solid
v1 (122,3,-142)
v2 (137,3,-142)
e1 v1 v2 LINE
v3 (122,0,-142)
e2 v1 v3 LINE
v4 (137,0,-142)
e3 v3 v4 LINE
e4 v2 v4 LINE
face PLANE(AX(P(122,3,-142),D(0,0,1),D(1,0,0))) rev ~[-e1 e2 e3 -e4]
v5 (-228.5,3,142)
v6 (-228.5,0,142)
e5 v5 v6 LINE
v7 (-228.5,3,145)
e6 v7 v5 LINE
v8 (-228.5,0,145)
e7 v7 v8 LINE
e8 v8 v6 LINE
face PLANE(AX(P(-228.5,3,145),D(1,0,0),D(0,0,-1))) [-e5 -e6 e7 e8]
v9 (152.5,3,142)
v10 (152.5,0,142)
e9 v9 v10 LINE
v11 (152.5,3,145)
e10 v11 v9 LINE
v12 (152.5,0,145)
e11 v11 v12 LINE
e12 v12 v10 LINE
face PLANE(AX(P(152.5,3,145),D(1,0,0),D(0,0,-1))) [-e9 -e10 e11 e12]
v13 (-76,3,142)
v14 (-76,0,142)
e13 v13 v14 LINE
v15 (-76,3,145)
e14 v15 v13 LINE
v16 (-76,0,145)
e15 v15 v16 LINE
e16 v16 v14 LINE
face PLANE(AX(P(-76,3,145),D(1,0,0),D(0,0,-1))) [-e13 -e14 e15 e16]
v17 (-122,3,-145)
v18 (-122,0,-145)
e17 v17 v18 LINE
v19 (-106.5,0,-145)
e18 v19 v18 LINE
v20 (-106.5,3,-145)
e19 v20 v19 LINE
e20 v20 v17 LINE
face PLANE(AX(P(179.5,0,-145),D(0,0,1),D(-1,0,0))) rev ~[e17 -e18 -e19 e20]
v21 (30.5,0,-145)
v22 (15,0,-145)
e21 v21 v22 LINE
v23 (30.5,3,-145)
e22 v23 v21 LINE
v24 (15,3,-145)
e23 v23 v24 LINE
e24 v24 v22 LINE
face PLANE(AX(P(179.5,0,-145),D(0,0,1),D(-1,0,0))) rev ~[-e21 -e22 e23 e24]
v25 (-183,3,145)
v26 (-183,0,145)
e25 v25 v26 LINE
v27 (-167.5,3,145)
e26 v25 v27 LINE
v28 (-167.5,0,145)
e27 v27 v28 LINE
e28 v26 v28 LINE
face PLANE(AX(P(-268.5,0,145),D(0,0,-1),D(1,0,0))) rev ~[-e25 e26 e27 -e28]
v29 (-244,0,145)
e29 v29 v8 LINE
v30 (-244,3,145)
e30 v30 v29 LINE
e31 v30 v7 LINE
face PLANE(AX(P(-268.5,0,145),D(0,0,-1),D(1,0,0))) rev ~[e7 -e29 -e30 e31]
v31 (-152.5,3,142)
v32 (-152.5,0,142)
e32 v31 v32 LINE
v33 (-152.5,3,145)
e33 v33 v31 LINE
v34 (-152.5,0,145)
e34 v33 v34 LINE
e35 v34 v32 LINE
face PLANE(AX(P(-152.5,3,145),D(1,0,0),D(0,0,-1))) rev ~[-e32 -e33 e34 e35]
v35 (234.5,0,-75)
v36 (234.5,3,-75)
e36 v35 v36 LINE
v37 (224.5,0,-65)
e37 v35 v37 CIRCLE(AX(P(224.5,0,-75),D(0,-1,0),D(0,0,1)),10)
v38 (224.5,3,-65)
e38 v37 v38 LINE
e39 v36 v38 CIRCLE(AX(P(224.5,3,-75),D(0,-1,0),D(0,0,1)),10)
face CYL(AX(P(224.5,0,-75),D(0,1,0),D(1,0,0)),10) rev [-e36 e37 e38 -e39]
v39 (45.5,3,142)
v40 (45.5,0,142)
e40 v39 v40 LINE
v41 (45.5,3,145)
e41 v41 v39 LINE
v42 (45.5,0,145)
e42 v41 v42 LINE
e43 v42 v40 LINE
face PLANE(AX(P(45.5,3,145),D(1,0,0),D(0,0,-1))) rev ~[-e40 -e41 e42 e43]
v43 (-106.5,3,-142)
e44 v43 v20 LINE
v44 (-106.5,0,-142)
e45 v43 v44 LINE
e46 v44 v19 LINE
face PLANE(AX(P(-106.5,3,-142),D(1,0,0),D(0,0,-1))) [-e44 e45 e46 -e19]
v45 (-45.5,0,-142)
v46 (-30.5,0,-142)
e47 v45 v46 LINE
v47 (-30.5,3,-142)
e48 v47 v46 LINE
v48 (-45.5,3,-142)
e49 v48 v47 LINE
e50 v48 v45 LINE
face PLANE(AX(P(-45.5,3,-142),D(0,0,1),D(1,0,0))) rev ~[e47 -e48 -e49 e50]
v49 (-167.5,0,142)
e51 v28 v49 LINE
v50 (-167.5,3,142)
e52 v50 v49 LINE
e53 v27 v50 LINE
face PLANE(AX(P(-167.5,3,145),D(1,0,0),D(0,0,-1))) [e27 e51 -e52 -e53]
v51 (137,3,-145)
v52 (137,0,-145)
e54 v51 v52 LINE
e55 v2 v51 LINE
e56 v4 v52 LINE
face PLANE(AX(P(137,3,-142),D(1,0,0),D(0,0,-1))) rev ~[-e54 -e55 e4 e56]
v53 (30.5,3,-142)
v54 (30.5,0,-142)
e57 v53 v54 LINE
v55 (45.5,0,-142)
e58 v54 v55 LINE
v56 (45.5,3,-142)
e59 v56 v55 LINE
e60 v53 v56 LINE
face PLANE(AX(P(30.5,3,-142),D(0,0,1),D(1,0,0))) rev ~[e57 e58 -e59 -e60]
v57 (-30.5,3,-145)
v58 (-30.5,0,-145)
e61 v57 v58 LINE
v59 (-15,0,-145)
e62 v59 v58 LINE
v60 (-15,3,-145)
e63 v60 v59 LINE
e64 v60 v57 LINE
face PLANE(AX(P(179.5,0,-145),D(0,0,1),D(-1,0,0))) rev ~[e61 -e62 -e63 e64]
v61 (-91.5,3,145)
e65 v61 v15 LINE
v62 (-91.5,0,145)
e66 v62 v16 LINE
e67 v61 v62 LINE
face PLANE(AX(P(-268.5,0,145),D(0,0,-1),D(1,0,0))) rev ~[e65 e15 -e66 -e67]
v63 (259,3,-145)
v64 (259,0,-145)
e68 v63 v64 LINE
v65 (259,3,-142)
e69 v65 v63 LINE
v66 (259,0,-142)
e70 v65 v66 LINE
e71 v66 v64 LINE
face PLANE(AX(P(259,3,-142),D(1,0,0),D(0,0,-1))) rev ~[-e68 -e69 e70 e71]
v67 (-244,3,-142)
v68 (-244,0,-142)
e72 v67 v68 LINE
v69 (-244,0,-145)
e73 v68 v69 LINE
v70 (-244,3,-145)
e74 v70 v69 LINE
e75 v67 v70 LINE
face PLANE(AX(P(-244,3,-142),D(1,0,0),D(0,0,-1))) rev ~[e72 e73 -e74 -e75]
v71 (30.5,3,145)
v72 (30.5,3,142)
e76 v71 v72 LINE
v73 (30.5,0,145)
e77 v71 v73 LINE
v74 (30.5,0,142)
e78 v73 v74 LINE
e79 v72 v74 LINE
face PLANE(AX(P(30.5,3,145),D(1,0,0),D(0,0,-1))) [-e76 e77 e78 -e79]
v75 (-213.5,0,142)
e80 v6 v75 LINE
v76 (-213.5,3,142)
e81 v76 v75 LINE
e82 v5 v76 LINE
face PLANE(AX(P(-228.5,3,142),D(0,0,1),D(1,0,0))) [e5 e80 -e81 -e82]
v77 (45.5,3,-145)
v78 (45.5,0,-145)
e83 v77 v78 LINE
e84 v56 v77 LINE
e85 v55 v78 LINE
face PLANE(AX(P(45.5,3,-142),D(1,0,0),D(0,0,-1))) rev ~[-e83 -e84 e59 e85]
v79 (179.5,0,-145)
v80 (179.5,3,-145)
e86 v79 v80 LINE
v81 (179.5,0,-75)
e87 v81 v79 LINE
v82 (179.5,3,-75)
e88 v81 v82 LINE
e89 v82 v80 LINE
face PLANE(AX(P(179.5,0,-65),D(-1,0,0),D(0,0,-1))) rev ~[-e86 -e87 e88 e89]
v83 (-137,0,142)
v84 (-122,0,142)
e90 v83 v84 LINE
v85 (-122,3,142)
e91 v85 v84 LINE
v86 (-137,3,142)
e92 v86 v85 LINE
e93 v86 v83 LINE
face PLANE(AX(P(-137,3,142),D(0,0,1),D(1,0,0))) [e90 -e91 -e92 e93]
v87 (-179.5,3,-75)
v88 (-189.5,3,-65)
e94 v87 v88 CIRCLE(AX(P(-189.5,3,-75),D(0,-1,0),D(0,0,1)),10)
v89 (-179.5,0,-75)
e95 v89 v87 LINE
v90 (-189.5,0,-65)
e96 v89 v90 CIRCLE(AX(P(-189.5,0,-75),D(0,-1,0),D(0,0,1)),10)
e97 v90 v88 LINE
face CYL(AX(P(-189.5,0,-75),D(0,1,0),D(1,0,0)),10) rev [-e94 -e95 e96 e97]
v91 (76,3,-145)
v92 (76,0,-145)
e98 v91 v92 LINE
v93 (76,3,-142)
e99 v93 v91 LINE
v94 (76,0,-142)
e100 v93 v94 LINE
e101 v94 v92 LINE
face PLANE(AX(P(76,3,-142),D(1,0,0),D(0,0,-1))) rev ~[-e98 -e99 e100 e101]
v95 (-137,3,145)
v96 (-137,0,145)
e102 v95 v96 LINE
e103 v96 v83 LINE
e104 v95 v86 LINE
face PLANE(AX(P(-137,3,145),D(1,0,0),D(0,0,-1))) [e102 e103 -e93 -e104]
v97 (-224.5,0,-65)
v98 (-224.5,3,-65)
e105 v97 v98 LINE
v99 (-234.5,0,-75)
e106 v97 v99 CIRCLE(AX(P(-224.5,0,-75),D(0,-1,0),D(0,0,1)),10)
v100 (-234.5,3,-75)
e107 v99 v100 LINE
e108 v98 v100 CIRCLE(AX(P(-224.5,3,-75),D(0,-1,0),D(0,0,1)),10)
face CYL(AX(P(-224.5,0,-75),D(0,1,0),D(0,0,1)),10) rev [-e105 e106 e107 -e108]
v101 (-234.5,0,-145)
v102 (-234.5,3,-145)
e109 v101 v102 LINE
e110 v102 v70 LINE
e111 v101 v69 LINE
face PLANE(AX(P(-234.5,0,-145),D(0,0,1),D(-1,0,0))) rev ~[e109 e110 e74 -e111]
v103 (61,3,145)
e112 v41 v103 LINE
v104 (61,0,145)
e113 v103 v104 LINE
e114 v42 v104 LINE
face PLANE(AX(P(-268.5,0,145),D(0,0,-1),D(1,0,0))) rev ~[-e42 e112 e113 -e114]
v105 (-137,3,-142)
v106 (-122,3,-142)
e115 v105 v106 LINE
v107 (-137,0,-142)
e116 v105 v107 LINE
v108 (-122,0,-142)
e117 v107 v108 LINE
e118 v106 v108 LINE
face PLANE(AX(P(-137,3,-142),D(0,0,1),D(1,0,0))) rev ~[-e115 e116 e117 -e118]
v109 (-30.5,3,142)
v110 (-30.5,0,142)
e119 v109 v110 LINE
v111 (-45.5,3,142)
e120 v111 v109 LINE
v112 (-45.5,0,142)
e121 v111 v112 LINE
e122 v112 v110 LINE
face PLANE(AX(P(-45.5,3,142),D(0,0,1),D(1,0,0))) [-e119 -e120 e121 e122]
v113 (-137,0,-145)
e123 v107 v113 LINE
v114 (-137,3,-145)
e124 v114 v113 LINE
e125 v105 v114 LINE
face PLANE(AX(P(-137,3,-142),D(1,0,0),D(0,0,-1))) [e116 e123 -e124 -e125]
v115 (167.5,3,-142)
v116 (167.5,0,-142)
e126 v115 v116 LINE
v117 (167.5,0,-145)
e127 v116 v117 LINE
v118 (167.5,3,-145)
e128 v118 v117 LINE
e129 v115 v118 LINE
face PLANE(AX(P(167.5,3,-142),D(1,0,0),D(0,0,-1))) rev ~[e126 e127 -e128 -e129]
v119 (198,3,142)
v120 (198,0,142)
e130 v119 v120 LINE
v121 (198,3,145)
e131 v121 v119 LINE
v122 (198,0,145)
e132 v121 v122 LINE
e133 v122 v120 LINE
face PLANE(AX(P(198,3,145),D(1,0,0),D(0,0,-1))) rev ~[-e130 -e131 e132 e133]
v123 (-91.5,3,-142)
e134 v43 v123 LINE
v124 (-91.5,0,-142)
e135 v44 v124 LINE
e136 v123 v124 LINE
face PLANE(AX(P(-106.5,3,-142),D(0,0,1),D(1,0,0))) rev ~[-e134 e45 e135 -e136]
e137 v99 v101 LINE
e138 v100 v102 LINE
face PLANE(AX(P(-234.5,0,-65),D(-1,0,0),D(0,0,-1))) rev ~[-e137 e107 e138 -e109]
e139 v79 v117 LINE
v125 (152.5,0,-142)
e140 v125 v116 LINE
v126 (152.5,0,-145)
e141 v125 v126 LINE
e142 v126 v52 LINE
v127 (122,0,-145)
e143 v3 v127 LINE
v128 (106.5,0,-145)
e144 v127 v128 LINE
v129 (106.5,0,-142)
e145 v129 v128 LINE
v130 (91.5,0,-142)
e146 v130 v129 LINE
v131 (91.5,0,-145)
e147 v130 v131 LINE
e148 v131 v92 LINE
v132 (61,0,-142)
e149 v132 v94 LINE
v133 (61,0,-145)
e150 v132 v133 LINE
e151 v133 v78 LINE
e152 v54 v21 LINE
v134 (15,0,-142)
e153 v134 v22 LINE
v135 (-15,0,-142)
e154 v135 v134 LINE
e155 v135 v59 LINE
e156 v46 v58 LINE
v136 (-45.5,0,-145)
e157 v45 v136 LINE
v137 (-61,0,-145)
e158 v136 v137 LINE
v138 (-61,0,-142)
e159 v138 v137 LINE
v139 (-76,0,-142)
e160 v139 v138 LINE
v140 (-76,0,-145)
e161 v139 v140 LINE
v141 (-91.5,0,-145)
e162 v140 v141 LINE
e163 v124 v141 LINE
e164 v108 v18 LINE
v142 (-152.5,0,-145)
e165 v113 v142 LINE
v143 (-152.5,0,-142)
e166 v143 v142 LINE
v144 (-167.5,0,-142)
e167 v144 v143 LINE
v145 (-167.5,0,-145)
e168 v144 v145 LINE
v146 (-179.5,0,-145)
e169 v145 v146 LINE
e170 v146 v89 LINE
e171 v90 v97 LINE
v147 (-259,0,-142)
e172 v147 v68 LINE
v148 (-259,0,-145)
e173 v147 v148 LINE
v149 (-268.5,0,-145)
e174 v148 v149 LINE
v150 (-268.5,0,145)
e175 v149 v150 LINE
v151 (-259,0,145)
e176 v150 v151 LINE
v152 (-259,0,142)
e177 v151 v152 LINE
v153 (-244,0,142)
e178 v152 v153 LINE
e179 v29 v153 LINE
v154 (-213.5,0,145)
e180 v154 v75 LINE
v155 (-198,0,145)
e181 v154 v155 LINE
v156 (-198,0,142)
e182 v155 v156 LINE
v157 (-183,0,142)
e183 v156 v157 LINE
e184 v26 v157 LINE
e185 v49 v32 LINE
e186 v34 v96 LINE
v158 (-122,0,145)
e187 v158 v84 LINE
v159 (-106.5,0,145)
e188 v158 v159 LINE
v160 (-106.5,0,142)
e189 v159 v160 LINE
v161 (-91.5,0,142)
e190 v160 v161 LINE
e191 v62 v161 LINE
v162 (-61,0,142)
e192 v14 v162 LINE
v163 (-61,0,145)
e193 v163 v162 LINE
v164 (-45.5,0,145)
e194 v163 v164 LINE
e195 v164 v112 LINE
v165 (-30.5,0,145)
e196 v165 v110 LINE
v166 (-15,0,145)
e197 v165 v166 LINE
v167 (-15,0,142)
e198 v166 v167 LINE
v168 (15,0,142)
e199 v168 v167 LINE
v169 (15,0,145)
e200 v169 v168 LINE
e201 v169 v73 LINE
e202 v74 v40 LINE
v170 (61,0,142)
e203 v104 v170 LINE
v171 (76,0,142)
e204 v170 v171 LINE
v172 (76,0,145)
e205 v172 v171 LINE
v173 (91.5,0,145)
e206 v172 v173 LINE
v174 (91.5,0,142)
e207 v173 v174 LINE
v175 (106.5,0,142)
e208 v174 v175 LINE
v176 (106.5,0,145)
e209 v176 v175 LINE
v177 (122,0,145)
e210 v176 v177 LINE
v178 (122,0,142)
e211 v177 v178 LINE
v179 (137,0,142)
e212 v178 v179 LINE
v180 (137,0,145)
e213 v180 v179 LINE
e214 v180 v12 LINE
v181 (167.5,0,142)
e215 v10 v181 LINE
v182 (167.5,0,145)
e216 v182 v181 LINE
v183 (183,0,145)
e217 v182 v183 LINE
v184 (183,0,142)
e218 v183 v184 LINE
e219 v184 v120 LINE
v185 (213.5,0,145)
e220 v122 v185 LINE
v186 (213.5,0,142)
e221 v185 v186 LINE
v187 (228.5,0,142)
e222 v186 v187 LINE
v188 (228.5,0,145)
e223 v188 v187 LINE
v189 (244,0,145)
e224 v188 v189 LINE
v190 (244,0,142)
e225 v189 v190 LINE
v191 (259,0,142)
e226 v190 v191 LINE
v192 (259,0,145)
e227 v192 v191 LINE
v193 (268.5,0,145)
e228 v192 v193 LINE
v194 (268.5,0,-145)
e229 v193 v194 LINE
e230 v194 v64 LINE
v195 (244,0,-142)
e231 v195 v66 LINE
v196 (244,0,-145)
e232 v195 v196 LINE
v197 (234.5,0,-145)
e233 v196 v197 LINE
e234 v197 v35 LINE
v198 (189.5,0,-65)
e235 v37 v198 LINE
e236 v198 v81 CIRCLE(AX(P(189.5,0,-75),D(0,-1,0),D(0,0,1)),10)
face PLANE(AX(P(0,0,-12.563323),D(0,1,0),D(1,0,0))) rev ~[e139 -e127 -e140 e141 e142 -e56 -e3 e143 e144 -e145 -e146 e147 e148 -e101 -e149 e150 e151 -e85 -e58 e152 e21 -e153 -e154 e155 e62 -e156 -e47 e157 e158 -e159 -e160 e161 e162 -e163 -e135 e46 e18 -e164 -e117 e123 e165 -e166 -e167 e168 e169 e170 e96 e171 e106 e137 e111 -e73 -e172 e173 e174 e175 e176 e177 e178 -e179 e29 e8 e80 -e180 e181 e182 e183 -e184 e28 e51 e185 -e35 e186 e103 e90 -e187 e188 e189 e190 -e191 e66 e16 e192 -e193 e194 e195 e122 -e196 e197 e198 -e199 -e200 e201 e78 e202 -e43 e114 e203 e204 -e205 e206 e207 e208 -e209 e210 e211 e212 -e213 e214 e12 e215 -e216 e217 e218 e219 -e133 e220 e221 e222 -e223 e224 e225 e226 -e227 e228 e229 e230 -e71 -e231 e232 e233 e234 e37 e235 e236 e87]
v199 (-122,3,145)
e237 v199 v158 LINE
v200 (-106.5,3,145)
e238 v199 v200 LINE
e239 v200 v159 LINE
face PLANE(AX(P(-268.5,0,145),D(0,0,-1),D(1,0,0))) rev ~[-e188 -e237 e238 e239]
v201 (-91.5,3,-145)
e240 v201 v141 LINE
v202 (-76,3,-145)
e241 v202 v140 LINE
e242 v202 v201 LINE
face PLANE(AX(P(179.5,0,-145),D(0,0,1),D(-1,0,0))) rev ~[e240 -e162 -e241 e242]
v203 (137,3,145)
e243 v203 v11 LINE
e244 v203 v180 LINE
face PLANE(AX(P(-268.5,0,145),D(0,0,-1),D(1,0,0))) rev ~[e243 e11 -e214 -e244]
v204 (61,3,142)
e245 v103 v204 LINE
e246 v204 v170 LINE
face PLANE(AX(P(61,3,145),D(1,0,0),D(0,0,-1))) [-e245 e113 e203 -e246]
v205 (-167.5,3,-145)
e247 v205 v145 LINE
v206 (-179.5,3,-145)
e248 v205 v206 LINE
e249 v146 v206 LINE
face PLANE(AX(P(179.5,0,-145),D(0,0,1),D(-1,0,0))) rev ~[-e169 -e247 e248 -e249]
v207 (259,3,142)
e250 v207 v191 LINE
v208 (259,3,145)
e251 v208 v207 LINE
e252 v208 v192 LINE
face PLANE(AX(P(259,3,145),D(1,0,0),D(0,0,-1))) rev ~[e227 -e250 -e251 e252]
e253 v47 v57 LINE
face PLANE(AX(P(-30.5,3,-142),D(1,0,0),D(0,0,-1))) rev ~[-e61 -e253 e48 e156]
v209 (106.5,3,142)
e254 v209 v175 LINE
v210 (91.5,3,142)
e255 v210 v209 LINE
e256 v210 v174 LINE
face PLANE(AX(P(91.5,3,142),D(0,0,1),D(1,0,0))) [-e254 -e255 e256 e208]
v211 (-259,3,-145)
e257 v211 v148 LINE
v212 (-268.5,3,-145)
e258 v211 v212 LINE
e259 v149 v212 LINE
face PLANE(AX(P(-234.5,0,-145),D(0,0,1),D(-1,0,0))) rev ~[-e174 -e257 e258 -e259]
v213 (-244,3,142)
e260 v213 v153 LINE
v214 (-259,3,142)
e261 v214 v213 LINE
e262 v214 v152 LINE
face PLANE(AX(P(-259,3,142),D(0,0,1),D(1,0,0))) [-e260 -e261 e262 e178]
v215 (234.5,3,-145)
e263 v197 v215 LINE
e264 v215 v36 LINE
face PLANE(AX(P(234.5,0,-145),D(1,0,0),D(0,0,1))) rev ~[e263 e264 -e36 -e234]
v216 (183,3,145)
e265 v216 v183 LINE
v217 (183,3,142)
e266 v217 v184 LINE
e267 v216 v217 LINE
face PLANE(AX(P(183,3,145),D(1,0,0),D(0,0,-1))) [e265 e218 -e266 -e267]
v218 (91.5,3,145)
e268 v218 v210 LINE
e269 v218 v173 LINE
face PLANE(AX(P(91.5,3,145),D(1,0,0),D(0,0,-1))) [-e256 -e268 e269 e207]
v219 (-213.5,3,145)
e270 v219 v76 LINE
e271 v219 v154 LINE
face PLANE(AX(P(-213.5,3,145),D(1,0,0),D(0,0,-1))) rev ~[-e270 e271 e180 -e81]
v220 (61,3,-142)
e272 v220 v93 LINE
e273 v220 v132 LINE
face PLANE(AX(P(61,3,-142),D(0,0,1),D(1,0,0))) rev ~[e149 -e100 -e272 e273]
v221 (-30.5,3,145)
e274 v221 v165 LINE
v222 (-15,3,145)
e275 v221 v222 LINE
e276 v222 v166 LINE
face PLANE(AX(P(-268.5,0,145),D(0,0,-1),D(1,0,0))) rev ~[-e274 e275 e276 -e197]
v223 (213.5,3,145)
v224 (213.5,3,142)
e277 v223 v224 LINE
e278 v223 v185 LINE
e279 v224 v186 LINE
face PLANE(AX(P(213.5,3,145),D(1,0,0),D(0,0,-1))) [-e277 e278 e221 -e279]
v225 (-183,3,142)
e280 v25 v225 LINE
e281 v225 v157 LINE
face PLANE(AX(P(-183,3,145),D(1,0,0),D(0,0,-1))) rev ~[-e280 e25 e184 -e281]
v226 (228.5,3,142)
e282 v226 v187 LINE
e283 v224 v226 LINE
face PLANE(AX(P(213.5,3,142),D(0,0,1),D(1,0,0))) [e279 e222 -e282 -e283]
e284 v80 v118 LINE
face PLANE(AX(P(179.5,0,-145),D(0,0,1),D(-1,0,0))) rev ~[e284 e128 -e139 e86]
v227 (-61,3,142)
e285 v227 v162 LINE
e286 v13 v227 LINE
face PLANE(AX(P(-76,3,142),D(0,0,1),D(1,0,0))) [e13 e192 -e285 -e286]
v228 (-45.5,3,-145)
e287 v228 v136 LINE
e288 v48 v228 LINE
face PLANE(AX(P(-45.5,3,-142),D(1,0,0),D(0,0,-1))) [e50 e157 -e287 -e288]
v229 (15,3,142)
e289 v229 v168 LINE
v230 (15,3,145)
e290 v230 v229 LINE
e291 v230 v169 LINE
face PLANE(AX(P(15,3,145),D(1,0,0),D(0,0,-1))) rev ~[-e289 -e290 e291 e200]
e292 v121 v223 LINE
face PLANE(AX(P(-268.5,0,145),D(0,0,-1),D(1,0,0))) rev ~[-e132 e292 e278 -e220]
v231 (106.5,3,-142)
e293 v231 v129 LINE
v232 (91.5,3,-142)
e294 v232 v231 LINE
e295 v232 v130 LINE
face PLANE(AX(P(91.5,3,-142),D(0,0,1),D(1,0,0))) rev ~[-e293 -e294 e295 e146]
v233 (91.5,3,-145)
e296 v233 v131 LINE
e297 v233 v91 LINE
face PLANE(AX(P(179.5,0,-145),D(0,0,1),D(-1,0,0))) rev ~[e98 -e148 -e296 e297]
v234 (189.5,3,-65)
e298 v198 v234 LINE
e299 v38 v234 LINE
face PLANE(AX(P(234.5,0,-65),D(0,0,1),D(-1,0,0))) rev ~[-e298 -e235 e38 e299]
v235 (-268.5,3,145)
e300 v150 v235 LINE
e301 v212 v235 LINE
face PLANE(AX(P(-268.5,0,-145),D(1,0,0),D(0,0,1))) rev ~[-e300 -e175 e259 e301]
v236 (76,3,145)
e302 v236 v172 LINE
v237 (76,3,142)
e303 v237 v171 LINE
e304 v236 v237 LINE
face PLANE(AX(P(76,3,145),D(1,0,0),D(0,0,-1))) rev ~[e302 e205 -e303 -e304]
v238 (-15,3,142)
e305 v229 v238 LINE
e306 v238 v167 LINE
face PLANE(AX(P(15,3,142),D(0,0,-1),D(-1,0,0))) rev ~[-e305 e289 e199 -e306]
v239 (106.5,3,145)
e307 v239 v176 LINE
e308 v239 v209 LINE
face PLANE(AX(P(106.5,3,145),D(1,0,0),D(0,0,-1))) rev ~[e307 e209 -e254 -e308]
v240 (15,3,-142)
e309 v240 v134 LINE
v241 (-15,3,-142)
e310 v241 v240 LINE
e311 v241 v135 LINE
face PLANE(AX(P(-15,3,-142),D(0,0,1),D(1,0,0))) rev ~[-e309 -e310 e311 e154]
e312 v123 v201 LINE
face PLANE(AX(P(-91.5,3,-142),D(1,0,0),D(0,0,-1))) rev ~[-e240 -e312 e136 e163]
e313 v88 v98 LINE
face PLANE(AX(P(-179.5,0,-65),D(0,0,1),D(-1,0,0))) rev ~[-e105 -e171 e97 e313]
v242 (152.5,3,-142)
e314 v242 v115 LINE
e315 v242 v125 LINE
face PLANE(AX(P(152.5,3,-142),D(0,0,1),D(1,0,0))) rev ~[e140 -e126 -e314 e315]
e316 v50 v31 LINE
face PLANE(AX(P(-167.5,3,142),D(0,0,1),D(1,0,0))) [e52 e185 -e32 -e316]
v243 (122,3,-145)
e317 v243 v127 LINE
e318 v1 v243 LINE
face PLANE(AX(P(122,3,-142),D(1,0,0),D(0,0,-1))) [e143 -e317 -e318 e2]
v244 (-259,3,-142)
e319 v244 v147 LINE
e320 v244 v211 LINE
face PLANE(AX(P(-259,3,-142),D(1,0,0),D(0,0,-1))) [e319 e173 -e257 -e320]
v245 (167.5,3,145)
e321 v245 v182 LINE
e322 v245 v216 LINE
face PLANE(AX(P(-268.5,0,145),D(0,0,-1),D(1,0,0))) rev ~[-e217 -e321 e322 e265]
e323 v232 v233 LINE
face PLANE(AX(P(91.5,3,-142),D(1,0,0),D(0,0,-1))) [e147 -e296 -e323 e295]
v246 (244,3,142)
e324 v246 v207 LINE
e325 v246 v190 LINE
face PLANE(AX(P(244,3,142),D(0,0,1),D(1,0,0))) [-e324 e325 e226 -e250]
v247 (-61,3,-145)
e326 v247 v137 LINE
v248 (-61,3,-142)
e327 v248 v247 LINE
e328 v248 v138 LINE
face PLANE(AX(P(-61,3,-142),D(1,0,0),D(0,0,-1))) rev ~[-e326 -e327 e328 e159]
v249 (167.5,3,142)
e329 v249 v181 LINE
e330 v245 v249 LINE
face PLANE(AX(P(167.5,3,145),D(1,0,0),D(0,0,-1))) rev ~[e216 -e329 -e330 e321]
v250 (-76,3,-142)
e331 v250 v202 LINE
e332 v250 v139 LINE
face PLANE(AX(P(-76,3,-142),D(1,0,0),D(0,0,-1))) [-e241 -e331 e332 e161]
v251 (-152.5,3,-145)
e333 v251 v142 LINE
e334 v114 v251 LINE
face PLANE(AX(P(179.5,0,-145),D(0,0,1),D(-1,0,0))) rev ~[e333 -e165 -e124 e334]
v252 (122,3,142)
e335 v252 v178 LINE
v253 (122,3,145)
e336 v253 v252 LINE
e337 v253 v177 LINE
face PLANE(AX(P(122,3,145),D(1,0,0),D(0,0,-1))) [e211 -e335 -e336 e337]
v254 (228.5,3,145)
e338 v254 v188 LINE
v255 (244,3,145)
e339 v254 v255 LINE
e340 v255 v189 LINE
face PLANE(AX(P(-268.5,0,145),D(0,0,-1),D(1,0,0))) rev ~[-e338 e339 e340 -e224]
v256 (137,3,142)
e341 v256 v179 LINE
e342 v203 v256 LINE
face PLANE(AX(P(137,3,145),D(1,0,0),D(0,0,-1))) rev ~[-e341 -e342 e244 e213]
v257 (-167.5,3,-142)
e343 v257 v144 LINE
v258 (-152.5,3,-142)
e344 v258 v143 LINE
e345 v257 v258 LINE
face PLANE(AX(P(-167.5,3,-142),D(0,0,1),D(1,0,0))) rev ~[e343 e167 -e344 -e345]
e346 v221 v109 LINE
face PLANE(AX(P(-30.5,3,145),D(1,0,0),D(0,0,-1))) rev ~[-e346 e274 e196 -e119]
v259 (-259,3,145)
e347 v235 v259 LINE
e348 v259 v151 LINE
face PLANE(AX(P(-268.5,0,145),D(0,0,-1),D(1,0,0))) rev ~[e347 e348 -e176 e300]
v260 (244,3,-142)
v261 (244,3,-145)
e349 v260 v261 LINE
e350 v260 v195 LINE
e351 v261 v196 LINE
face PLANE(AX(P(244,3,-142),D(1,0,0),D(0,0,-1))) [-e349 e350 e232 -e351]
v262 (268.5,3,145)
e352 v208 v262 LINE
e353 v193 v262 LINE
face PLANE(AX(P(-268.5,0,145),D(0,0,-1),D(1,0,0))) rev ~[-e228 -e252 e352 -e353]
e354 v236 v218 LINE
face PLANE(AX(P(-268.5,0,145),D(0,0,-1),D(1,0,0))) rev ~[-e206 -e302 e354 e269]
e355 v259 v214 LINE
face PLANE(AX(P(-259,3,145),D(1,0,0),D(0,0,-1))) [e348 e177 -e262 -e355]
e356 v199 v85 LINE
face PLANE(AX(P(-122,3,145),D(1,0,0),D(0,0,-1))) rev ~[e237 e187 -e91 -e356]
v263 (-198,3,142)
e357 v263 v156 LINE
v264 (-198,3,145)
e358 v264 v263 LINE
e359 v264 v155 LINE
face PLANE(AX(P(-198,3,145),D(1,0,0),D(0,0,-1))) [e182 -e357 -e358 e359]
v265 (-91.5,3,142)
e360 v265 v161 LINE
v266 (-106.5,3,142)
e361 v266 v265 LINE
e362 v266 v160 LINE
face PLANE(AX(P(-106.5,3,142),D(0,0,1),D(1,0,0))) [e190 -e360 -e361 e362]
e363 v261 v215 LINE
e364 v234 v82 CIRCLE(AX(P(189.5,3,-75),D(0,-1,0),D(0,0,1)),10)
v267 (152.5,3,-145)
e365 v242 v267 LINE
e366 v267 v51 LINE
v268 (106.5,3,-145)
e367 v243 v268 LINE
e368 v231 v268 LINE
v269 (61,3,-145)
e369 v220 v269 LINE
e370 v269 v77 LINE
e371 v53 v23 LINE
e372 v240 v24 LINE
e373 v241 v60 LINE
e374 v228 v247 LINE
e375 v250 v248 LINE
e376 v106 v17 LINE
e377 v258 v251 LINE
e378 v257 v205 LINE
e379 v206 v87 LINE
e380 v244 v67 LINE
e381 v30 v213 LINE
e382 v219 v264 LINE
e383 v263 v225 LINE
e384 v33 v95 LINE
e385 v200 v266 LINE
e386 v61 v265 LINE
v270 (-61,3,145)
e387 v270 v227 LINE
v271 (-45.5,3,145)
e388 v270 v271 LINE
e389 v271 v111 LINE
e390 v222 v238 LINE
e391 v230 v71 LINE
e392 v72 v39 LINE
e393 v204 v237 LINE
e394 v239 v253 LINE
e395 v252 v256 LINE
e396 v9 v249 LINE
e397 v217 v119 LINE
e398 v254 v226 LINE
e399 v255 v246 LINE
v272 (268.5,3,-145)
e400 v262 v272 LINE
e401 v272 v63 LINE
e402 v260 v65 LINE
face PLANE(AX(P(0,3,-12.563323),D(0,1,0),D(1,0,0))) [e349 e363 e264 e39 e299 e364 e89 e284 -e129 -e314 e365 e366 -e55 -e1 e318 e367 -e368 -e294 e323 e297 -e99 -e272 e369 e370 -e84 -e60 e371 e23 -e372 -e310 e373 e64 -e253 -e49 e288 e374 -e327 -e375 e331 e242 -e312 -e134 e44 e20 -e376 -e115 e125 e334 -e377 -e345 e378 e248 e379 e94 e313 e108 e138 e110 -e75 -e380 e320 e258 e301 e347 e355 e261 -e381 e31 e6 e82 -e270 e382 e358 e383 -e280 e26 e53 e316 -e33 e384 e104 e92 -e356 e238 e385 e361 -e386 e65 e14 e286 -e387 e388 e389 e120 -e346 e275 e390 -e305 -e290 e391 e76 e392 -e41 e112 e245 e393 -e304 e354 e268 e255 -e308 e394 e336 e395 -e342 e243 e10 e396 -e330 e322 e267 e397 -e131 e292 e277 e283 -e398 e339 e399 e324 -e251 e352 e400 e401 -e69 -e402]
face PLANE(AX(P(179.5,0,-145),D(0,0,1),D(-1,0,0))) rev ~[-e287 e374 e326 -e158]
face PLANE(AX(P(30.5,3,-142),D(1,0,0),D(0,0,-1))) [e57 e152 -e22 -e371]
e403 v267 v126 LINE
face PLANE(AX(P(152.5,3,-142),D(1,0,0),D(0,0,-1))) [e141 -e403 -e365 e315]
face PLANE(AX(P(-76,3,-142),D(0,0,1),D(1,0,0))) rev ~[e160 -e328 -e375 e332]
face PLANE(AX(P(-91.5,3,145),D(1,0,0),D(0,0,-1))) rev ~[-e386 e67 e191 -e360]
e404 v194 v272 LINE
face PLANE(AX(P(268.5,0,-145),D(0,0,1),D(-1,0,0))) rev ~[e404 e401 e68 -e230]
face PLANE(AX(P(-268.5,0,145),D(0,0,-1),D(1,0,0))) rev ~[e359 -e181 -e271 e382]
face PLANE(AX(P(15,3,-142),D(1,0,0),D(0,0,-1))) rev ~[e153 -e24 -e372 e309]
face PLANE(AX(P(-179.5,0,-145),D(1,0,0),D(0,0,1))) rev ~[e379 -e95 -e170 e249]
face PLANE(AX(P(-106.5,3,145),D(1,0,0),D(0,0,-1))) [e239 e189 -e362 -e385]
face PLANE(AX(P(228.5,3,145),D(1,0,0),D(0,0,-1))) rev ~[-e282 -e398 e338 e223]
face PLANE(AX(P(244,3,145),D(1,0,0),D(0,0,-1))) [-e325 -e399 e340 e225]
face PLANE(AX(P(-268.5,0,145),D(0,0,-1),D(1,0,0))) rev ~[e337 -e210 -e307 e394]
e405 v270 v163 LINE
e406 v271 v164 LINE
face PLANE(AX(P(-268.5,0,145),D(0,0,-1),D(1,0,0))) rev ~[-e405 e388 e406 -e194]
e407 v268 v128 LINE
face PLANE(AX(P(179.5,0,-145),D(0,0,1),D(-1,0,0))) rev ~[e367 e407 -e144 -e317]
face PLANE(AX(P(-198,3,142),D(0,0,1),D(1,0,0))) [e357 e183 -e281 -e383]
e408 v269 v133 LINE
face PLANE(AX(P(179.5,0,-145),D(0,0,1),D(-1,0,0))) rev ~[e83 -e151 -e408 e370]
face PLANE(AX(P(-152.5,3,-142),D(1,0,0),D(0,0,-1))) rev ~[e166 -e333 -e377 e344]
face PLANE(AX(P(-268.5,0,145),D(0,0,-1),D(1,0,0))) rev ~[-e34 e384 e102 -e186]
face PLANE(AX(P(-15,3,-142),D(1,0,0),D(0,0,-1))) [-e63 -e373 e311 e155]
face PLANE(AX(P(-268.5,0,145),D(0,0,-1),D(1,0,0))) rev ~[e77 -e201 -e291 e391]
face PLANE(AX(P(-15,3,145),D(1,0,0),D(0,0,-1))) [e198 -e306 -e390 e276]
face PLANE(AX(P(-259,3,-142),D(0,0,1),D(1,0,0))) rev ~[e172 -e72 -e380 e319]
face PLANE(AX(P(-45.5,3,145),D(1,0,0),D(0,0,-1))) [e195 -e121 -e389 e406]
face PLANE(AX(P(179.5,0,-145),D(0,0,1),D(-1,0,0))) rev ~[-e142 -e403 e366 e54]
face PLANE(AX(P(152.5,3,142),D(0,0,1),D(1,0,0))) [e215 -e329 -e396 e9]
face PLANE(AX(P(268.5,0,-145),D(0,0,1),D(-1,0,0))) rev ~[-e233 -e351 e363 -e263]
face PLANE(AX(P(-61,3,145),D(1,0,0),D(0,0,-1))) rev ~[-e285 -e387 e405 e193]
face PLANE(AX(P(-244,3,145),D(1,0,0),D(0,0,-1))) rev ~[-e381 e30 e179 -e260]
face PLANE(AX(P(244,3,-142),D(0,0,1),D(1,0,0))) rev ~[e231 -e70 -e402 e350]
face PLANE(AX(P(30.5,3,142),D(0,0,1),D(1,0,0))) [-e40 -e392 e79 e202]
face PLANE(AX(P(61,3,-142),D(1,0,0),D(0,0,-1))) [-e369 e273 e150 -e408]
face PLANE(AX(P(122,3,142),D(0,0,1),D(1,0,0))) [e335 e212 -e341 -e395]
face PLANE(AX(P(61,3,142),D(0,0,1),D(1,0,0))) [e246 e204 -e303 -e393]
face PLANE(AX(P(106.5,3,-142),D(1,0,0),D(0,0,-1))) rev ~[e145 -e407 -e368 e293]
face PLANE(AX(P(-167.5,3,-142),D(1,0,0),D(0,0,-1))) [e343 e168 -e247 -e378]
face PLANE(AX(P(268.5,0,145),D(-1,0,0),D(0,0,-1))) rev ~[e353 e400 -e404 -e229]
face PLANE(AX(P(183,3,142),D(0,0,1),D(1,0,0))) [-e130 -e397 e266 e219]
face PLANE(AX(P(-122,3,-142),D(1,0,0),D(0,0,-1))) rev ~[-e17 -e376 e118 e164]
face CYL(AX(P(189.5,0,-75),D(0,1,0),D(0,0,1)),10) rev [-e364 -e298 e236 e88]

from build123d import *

# Parameters (mm, degrees)
BOSS_EXTRUDE1_DEPTH = 3
FILLET1_R           = 10
SKETCH2_W           = 15
SKETCH2_H           = 3
CUT_EXTRUDE2_DEPTH  = 306.165938466


with BuildPart() as part:
    # Sketch1 → Boss-Extrude1 (new body)
    with BuildSketch(Plane(origin=(0, 0, 0), x_dir=(1, 0, 0), z_dir=(0, 1, 0))):
        Polygon((-234.5, 145), (-268.5, 145), (-268.5, -145), (268.5, -145), (268.5, 145), (234.5, 145), (234.5, 65), (179.5, 65), (179.5, 145), (-179.5, 145), (-179.5, 65), (-234.5, 65), align=None)
    extrude(amount=BOSS_EXTRUDE1_DEPTH)

    # Fillet1
    fillet1_edges = [part.edges().sort_by_distance(p)[0] for p in [
        (-234.5, 1.5, -65),
        (-179.5, 1.5, -65),
        (179.5, 1.5, -65),
        (234.5, 1.5, -65),
    ]]
    fillet(fillet1_edges, radius=FILLET1_R)

    # Sketch2 → Cut-Extrude2 (cut, through all)
    with BuildSketch(Plane(origin=(0, 3, 0), x_dir=(1, 0, 0), z_dir=(0, 1, 0))):
        with Locations((-251.5, 143.5)):
            Rectangle(SKETCH2_W, SKETCH2_H)
        with Locations((-221, 143.5)):
            Rectangle(SKETCH2_W, SKETCH2_H)
        with Locations((-190.5, 143.5)):
            Rectangle(SKETCH2_W, SKETCH2_H)
        with Locations((-160, 143.5)):
            Rectangle(SKETCH2_W, SKETCH2_H)
        with Locations((-129.5, 143.5)):
            Rectangle(SKETCH2_W, SKETCH2_H)
        with Locations((-99, 143.5)):
            Rectangle(SKETCH2_W, SKETCH2_H)
        with Locations((-68.5, 143.5)):
            Rectangle(SKETCH2_W, SKETCH2_H)
        with Locations((-38, 143.5)):
            Rectangle(SKETCH2_W, SKETCH2_H)
        with Locations((-7.5, 143.5)):
            Rectangle(SKETCH2_W, SKETCH2_H)
        with Locations((7.5, 143.5)):
            Rectangle(SKETCH2_W, SKETCH2_H)
        with Locations((38, 143.5)):
            Rectangle(SKETCH2_W, SKETCH2_H)
        with Locations((68.5, 143.5)):
            Rectangle(SKETCH2_W, SKETCH2_H)
        with Locations((99, 143.5)):
            Rectangle(SKETCH2_W, SKETCH2_H)
        with Locations((129.5, 143.5)):
            Rectangle(SKETCH2_W, SKETCH2_H)
        with Locations((160, 143.5)):
            Rectangle(SKETCH2_W, SKETCH2_H)
        with Locations((190.5, 143.5)):
            Rectangle(SKETCH2_W, SKETCH2_H)
        with Locations((221, 143.5)):
            Rectangle(SKETCH2_W, SKETCH2_H)
        with Locations((251.5, 143.5)):
            Rectangle(SKETCH2_W, SKETCH2_H)
        with Locations((-251.5, -143.5)):
            Rectangle(SKETCH2_W, SKETCH2_H)
        with Locations((-221, -143.5)):
            Rectangle(SKETCH2_W, SKETCH2_H)
        with Locations((-190.5, -143.5)):
            Rectangle(SKETCH2_W, SKETCH2_H)
        with Locations((-160, -143.5)):
            Rectangle(SKETCH2_W, SKETCH2_H)
        with Locations((-129.5, -143.5)):
            Rectangle(SKETCH2_W, SKETCH2_H)
        with Locations((-99, -143.5)):
            Rectangle(SKETCH2_W, SKETCH2_H)
        with Locations((-68.5, -143.5)):
            Rectangle(SKETCH2_W, SKETCH2_H)
        with Locations((-38, -143.5)):
            Rectangle(SKETCH2_W, SKETCH2_H)
        with Locations((-7.5, -143.5)):
            Rectangle(SKETCH2_W, SKETCH2_H)
        with Locations((7.5, -143.5)):
            Rectangle(SKETCH2_W, SKETCH2_H)
        with Locations((38, -143.5)):
            Rectangle(SKETCH2_W, SKETCH2_H)
        with Locations((68.5, -143.5)):
            Rectangle(SKETCH2_W, SKETCH2_H)
        with Locations((99, -143.5)):
            Rectangle(SKETCH2_W, SKETCH2_H)
        with Locations((129.5, -143.5)):
            Rectangle(SKETCH2_W, SKETCH2_H)
        with Locations((160, -143.5)):
            Rectangle(SKETCH2_W, SKETCH2_H)
        with Locations((190.5, -143.5)):
            Rectangle(SKETCH2_W, SKETCH2_H)
        with Locations((221, -143.5)):
            Rectangle(SKETCH2_W, SKETCH2_H)
        with Locations((251.5, -143.5)):
            Rectangle(SKETCH2_W, SKETCH2_H)
    extrude(amount=-CUT_EXTRUDE2_DEPTH, mode=Mode.SUBTRACT)


solid = part.part
